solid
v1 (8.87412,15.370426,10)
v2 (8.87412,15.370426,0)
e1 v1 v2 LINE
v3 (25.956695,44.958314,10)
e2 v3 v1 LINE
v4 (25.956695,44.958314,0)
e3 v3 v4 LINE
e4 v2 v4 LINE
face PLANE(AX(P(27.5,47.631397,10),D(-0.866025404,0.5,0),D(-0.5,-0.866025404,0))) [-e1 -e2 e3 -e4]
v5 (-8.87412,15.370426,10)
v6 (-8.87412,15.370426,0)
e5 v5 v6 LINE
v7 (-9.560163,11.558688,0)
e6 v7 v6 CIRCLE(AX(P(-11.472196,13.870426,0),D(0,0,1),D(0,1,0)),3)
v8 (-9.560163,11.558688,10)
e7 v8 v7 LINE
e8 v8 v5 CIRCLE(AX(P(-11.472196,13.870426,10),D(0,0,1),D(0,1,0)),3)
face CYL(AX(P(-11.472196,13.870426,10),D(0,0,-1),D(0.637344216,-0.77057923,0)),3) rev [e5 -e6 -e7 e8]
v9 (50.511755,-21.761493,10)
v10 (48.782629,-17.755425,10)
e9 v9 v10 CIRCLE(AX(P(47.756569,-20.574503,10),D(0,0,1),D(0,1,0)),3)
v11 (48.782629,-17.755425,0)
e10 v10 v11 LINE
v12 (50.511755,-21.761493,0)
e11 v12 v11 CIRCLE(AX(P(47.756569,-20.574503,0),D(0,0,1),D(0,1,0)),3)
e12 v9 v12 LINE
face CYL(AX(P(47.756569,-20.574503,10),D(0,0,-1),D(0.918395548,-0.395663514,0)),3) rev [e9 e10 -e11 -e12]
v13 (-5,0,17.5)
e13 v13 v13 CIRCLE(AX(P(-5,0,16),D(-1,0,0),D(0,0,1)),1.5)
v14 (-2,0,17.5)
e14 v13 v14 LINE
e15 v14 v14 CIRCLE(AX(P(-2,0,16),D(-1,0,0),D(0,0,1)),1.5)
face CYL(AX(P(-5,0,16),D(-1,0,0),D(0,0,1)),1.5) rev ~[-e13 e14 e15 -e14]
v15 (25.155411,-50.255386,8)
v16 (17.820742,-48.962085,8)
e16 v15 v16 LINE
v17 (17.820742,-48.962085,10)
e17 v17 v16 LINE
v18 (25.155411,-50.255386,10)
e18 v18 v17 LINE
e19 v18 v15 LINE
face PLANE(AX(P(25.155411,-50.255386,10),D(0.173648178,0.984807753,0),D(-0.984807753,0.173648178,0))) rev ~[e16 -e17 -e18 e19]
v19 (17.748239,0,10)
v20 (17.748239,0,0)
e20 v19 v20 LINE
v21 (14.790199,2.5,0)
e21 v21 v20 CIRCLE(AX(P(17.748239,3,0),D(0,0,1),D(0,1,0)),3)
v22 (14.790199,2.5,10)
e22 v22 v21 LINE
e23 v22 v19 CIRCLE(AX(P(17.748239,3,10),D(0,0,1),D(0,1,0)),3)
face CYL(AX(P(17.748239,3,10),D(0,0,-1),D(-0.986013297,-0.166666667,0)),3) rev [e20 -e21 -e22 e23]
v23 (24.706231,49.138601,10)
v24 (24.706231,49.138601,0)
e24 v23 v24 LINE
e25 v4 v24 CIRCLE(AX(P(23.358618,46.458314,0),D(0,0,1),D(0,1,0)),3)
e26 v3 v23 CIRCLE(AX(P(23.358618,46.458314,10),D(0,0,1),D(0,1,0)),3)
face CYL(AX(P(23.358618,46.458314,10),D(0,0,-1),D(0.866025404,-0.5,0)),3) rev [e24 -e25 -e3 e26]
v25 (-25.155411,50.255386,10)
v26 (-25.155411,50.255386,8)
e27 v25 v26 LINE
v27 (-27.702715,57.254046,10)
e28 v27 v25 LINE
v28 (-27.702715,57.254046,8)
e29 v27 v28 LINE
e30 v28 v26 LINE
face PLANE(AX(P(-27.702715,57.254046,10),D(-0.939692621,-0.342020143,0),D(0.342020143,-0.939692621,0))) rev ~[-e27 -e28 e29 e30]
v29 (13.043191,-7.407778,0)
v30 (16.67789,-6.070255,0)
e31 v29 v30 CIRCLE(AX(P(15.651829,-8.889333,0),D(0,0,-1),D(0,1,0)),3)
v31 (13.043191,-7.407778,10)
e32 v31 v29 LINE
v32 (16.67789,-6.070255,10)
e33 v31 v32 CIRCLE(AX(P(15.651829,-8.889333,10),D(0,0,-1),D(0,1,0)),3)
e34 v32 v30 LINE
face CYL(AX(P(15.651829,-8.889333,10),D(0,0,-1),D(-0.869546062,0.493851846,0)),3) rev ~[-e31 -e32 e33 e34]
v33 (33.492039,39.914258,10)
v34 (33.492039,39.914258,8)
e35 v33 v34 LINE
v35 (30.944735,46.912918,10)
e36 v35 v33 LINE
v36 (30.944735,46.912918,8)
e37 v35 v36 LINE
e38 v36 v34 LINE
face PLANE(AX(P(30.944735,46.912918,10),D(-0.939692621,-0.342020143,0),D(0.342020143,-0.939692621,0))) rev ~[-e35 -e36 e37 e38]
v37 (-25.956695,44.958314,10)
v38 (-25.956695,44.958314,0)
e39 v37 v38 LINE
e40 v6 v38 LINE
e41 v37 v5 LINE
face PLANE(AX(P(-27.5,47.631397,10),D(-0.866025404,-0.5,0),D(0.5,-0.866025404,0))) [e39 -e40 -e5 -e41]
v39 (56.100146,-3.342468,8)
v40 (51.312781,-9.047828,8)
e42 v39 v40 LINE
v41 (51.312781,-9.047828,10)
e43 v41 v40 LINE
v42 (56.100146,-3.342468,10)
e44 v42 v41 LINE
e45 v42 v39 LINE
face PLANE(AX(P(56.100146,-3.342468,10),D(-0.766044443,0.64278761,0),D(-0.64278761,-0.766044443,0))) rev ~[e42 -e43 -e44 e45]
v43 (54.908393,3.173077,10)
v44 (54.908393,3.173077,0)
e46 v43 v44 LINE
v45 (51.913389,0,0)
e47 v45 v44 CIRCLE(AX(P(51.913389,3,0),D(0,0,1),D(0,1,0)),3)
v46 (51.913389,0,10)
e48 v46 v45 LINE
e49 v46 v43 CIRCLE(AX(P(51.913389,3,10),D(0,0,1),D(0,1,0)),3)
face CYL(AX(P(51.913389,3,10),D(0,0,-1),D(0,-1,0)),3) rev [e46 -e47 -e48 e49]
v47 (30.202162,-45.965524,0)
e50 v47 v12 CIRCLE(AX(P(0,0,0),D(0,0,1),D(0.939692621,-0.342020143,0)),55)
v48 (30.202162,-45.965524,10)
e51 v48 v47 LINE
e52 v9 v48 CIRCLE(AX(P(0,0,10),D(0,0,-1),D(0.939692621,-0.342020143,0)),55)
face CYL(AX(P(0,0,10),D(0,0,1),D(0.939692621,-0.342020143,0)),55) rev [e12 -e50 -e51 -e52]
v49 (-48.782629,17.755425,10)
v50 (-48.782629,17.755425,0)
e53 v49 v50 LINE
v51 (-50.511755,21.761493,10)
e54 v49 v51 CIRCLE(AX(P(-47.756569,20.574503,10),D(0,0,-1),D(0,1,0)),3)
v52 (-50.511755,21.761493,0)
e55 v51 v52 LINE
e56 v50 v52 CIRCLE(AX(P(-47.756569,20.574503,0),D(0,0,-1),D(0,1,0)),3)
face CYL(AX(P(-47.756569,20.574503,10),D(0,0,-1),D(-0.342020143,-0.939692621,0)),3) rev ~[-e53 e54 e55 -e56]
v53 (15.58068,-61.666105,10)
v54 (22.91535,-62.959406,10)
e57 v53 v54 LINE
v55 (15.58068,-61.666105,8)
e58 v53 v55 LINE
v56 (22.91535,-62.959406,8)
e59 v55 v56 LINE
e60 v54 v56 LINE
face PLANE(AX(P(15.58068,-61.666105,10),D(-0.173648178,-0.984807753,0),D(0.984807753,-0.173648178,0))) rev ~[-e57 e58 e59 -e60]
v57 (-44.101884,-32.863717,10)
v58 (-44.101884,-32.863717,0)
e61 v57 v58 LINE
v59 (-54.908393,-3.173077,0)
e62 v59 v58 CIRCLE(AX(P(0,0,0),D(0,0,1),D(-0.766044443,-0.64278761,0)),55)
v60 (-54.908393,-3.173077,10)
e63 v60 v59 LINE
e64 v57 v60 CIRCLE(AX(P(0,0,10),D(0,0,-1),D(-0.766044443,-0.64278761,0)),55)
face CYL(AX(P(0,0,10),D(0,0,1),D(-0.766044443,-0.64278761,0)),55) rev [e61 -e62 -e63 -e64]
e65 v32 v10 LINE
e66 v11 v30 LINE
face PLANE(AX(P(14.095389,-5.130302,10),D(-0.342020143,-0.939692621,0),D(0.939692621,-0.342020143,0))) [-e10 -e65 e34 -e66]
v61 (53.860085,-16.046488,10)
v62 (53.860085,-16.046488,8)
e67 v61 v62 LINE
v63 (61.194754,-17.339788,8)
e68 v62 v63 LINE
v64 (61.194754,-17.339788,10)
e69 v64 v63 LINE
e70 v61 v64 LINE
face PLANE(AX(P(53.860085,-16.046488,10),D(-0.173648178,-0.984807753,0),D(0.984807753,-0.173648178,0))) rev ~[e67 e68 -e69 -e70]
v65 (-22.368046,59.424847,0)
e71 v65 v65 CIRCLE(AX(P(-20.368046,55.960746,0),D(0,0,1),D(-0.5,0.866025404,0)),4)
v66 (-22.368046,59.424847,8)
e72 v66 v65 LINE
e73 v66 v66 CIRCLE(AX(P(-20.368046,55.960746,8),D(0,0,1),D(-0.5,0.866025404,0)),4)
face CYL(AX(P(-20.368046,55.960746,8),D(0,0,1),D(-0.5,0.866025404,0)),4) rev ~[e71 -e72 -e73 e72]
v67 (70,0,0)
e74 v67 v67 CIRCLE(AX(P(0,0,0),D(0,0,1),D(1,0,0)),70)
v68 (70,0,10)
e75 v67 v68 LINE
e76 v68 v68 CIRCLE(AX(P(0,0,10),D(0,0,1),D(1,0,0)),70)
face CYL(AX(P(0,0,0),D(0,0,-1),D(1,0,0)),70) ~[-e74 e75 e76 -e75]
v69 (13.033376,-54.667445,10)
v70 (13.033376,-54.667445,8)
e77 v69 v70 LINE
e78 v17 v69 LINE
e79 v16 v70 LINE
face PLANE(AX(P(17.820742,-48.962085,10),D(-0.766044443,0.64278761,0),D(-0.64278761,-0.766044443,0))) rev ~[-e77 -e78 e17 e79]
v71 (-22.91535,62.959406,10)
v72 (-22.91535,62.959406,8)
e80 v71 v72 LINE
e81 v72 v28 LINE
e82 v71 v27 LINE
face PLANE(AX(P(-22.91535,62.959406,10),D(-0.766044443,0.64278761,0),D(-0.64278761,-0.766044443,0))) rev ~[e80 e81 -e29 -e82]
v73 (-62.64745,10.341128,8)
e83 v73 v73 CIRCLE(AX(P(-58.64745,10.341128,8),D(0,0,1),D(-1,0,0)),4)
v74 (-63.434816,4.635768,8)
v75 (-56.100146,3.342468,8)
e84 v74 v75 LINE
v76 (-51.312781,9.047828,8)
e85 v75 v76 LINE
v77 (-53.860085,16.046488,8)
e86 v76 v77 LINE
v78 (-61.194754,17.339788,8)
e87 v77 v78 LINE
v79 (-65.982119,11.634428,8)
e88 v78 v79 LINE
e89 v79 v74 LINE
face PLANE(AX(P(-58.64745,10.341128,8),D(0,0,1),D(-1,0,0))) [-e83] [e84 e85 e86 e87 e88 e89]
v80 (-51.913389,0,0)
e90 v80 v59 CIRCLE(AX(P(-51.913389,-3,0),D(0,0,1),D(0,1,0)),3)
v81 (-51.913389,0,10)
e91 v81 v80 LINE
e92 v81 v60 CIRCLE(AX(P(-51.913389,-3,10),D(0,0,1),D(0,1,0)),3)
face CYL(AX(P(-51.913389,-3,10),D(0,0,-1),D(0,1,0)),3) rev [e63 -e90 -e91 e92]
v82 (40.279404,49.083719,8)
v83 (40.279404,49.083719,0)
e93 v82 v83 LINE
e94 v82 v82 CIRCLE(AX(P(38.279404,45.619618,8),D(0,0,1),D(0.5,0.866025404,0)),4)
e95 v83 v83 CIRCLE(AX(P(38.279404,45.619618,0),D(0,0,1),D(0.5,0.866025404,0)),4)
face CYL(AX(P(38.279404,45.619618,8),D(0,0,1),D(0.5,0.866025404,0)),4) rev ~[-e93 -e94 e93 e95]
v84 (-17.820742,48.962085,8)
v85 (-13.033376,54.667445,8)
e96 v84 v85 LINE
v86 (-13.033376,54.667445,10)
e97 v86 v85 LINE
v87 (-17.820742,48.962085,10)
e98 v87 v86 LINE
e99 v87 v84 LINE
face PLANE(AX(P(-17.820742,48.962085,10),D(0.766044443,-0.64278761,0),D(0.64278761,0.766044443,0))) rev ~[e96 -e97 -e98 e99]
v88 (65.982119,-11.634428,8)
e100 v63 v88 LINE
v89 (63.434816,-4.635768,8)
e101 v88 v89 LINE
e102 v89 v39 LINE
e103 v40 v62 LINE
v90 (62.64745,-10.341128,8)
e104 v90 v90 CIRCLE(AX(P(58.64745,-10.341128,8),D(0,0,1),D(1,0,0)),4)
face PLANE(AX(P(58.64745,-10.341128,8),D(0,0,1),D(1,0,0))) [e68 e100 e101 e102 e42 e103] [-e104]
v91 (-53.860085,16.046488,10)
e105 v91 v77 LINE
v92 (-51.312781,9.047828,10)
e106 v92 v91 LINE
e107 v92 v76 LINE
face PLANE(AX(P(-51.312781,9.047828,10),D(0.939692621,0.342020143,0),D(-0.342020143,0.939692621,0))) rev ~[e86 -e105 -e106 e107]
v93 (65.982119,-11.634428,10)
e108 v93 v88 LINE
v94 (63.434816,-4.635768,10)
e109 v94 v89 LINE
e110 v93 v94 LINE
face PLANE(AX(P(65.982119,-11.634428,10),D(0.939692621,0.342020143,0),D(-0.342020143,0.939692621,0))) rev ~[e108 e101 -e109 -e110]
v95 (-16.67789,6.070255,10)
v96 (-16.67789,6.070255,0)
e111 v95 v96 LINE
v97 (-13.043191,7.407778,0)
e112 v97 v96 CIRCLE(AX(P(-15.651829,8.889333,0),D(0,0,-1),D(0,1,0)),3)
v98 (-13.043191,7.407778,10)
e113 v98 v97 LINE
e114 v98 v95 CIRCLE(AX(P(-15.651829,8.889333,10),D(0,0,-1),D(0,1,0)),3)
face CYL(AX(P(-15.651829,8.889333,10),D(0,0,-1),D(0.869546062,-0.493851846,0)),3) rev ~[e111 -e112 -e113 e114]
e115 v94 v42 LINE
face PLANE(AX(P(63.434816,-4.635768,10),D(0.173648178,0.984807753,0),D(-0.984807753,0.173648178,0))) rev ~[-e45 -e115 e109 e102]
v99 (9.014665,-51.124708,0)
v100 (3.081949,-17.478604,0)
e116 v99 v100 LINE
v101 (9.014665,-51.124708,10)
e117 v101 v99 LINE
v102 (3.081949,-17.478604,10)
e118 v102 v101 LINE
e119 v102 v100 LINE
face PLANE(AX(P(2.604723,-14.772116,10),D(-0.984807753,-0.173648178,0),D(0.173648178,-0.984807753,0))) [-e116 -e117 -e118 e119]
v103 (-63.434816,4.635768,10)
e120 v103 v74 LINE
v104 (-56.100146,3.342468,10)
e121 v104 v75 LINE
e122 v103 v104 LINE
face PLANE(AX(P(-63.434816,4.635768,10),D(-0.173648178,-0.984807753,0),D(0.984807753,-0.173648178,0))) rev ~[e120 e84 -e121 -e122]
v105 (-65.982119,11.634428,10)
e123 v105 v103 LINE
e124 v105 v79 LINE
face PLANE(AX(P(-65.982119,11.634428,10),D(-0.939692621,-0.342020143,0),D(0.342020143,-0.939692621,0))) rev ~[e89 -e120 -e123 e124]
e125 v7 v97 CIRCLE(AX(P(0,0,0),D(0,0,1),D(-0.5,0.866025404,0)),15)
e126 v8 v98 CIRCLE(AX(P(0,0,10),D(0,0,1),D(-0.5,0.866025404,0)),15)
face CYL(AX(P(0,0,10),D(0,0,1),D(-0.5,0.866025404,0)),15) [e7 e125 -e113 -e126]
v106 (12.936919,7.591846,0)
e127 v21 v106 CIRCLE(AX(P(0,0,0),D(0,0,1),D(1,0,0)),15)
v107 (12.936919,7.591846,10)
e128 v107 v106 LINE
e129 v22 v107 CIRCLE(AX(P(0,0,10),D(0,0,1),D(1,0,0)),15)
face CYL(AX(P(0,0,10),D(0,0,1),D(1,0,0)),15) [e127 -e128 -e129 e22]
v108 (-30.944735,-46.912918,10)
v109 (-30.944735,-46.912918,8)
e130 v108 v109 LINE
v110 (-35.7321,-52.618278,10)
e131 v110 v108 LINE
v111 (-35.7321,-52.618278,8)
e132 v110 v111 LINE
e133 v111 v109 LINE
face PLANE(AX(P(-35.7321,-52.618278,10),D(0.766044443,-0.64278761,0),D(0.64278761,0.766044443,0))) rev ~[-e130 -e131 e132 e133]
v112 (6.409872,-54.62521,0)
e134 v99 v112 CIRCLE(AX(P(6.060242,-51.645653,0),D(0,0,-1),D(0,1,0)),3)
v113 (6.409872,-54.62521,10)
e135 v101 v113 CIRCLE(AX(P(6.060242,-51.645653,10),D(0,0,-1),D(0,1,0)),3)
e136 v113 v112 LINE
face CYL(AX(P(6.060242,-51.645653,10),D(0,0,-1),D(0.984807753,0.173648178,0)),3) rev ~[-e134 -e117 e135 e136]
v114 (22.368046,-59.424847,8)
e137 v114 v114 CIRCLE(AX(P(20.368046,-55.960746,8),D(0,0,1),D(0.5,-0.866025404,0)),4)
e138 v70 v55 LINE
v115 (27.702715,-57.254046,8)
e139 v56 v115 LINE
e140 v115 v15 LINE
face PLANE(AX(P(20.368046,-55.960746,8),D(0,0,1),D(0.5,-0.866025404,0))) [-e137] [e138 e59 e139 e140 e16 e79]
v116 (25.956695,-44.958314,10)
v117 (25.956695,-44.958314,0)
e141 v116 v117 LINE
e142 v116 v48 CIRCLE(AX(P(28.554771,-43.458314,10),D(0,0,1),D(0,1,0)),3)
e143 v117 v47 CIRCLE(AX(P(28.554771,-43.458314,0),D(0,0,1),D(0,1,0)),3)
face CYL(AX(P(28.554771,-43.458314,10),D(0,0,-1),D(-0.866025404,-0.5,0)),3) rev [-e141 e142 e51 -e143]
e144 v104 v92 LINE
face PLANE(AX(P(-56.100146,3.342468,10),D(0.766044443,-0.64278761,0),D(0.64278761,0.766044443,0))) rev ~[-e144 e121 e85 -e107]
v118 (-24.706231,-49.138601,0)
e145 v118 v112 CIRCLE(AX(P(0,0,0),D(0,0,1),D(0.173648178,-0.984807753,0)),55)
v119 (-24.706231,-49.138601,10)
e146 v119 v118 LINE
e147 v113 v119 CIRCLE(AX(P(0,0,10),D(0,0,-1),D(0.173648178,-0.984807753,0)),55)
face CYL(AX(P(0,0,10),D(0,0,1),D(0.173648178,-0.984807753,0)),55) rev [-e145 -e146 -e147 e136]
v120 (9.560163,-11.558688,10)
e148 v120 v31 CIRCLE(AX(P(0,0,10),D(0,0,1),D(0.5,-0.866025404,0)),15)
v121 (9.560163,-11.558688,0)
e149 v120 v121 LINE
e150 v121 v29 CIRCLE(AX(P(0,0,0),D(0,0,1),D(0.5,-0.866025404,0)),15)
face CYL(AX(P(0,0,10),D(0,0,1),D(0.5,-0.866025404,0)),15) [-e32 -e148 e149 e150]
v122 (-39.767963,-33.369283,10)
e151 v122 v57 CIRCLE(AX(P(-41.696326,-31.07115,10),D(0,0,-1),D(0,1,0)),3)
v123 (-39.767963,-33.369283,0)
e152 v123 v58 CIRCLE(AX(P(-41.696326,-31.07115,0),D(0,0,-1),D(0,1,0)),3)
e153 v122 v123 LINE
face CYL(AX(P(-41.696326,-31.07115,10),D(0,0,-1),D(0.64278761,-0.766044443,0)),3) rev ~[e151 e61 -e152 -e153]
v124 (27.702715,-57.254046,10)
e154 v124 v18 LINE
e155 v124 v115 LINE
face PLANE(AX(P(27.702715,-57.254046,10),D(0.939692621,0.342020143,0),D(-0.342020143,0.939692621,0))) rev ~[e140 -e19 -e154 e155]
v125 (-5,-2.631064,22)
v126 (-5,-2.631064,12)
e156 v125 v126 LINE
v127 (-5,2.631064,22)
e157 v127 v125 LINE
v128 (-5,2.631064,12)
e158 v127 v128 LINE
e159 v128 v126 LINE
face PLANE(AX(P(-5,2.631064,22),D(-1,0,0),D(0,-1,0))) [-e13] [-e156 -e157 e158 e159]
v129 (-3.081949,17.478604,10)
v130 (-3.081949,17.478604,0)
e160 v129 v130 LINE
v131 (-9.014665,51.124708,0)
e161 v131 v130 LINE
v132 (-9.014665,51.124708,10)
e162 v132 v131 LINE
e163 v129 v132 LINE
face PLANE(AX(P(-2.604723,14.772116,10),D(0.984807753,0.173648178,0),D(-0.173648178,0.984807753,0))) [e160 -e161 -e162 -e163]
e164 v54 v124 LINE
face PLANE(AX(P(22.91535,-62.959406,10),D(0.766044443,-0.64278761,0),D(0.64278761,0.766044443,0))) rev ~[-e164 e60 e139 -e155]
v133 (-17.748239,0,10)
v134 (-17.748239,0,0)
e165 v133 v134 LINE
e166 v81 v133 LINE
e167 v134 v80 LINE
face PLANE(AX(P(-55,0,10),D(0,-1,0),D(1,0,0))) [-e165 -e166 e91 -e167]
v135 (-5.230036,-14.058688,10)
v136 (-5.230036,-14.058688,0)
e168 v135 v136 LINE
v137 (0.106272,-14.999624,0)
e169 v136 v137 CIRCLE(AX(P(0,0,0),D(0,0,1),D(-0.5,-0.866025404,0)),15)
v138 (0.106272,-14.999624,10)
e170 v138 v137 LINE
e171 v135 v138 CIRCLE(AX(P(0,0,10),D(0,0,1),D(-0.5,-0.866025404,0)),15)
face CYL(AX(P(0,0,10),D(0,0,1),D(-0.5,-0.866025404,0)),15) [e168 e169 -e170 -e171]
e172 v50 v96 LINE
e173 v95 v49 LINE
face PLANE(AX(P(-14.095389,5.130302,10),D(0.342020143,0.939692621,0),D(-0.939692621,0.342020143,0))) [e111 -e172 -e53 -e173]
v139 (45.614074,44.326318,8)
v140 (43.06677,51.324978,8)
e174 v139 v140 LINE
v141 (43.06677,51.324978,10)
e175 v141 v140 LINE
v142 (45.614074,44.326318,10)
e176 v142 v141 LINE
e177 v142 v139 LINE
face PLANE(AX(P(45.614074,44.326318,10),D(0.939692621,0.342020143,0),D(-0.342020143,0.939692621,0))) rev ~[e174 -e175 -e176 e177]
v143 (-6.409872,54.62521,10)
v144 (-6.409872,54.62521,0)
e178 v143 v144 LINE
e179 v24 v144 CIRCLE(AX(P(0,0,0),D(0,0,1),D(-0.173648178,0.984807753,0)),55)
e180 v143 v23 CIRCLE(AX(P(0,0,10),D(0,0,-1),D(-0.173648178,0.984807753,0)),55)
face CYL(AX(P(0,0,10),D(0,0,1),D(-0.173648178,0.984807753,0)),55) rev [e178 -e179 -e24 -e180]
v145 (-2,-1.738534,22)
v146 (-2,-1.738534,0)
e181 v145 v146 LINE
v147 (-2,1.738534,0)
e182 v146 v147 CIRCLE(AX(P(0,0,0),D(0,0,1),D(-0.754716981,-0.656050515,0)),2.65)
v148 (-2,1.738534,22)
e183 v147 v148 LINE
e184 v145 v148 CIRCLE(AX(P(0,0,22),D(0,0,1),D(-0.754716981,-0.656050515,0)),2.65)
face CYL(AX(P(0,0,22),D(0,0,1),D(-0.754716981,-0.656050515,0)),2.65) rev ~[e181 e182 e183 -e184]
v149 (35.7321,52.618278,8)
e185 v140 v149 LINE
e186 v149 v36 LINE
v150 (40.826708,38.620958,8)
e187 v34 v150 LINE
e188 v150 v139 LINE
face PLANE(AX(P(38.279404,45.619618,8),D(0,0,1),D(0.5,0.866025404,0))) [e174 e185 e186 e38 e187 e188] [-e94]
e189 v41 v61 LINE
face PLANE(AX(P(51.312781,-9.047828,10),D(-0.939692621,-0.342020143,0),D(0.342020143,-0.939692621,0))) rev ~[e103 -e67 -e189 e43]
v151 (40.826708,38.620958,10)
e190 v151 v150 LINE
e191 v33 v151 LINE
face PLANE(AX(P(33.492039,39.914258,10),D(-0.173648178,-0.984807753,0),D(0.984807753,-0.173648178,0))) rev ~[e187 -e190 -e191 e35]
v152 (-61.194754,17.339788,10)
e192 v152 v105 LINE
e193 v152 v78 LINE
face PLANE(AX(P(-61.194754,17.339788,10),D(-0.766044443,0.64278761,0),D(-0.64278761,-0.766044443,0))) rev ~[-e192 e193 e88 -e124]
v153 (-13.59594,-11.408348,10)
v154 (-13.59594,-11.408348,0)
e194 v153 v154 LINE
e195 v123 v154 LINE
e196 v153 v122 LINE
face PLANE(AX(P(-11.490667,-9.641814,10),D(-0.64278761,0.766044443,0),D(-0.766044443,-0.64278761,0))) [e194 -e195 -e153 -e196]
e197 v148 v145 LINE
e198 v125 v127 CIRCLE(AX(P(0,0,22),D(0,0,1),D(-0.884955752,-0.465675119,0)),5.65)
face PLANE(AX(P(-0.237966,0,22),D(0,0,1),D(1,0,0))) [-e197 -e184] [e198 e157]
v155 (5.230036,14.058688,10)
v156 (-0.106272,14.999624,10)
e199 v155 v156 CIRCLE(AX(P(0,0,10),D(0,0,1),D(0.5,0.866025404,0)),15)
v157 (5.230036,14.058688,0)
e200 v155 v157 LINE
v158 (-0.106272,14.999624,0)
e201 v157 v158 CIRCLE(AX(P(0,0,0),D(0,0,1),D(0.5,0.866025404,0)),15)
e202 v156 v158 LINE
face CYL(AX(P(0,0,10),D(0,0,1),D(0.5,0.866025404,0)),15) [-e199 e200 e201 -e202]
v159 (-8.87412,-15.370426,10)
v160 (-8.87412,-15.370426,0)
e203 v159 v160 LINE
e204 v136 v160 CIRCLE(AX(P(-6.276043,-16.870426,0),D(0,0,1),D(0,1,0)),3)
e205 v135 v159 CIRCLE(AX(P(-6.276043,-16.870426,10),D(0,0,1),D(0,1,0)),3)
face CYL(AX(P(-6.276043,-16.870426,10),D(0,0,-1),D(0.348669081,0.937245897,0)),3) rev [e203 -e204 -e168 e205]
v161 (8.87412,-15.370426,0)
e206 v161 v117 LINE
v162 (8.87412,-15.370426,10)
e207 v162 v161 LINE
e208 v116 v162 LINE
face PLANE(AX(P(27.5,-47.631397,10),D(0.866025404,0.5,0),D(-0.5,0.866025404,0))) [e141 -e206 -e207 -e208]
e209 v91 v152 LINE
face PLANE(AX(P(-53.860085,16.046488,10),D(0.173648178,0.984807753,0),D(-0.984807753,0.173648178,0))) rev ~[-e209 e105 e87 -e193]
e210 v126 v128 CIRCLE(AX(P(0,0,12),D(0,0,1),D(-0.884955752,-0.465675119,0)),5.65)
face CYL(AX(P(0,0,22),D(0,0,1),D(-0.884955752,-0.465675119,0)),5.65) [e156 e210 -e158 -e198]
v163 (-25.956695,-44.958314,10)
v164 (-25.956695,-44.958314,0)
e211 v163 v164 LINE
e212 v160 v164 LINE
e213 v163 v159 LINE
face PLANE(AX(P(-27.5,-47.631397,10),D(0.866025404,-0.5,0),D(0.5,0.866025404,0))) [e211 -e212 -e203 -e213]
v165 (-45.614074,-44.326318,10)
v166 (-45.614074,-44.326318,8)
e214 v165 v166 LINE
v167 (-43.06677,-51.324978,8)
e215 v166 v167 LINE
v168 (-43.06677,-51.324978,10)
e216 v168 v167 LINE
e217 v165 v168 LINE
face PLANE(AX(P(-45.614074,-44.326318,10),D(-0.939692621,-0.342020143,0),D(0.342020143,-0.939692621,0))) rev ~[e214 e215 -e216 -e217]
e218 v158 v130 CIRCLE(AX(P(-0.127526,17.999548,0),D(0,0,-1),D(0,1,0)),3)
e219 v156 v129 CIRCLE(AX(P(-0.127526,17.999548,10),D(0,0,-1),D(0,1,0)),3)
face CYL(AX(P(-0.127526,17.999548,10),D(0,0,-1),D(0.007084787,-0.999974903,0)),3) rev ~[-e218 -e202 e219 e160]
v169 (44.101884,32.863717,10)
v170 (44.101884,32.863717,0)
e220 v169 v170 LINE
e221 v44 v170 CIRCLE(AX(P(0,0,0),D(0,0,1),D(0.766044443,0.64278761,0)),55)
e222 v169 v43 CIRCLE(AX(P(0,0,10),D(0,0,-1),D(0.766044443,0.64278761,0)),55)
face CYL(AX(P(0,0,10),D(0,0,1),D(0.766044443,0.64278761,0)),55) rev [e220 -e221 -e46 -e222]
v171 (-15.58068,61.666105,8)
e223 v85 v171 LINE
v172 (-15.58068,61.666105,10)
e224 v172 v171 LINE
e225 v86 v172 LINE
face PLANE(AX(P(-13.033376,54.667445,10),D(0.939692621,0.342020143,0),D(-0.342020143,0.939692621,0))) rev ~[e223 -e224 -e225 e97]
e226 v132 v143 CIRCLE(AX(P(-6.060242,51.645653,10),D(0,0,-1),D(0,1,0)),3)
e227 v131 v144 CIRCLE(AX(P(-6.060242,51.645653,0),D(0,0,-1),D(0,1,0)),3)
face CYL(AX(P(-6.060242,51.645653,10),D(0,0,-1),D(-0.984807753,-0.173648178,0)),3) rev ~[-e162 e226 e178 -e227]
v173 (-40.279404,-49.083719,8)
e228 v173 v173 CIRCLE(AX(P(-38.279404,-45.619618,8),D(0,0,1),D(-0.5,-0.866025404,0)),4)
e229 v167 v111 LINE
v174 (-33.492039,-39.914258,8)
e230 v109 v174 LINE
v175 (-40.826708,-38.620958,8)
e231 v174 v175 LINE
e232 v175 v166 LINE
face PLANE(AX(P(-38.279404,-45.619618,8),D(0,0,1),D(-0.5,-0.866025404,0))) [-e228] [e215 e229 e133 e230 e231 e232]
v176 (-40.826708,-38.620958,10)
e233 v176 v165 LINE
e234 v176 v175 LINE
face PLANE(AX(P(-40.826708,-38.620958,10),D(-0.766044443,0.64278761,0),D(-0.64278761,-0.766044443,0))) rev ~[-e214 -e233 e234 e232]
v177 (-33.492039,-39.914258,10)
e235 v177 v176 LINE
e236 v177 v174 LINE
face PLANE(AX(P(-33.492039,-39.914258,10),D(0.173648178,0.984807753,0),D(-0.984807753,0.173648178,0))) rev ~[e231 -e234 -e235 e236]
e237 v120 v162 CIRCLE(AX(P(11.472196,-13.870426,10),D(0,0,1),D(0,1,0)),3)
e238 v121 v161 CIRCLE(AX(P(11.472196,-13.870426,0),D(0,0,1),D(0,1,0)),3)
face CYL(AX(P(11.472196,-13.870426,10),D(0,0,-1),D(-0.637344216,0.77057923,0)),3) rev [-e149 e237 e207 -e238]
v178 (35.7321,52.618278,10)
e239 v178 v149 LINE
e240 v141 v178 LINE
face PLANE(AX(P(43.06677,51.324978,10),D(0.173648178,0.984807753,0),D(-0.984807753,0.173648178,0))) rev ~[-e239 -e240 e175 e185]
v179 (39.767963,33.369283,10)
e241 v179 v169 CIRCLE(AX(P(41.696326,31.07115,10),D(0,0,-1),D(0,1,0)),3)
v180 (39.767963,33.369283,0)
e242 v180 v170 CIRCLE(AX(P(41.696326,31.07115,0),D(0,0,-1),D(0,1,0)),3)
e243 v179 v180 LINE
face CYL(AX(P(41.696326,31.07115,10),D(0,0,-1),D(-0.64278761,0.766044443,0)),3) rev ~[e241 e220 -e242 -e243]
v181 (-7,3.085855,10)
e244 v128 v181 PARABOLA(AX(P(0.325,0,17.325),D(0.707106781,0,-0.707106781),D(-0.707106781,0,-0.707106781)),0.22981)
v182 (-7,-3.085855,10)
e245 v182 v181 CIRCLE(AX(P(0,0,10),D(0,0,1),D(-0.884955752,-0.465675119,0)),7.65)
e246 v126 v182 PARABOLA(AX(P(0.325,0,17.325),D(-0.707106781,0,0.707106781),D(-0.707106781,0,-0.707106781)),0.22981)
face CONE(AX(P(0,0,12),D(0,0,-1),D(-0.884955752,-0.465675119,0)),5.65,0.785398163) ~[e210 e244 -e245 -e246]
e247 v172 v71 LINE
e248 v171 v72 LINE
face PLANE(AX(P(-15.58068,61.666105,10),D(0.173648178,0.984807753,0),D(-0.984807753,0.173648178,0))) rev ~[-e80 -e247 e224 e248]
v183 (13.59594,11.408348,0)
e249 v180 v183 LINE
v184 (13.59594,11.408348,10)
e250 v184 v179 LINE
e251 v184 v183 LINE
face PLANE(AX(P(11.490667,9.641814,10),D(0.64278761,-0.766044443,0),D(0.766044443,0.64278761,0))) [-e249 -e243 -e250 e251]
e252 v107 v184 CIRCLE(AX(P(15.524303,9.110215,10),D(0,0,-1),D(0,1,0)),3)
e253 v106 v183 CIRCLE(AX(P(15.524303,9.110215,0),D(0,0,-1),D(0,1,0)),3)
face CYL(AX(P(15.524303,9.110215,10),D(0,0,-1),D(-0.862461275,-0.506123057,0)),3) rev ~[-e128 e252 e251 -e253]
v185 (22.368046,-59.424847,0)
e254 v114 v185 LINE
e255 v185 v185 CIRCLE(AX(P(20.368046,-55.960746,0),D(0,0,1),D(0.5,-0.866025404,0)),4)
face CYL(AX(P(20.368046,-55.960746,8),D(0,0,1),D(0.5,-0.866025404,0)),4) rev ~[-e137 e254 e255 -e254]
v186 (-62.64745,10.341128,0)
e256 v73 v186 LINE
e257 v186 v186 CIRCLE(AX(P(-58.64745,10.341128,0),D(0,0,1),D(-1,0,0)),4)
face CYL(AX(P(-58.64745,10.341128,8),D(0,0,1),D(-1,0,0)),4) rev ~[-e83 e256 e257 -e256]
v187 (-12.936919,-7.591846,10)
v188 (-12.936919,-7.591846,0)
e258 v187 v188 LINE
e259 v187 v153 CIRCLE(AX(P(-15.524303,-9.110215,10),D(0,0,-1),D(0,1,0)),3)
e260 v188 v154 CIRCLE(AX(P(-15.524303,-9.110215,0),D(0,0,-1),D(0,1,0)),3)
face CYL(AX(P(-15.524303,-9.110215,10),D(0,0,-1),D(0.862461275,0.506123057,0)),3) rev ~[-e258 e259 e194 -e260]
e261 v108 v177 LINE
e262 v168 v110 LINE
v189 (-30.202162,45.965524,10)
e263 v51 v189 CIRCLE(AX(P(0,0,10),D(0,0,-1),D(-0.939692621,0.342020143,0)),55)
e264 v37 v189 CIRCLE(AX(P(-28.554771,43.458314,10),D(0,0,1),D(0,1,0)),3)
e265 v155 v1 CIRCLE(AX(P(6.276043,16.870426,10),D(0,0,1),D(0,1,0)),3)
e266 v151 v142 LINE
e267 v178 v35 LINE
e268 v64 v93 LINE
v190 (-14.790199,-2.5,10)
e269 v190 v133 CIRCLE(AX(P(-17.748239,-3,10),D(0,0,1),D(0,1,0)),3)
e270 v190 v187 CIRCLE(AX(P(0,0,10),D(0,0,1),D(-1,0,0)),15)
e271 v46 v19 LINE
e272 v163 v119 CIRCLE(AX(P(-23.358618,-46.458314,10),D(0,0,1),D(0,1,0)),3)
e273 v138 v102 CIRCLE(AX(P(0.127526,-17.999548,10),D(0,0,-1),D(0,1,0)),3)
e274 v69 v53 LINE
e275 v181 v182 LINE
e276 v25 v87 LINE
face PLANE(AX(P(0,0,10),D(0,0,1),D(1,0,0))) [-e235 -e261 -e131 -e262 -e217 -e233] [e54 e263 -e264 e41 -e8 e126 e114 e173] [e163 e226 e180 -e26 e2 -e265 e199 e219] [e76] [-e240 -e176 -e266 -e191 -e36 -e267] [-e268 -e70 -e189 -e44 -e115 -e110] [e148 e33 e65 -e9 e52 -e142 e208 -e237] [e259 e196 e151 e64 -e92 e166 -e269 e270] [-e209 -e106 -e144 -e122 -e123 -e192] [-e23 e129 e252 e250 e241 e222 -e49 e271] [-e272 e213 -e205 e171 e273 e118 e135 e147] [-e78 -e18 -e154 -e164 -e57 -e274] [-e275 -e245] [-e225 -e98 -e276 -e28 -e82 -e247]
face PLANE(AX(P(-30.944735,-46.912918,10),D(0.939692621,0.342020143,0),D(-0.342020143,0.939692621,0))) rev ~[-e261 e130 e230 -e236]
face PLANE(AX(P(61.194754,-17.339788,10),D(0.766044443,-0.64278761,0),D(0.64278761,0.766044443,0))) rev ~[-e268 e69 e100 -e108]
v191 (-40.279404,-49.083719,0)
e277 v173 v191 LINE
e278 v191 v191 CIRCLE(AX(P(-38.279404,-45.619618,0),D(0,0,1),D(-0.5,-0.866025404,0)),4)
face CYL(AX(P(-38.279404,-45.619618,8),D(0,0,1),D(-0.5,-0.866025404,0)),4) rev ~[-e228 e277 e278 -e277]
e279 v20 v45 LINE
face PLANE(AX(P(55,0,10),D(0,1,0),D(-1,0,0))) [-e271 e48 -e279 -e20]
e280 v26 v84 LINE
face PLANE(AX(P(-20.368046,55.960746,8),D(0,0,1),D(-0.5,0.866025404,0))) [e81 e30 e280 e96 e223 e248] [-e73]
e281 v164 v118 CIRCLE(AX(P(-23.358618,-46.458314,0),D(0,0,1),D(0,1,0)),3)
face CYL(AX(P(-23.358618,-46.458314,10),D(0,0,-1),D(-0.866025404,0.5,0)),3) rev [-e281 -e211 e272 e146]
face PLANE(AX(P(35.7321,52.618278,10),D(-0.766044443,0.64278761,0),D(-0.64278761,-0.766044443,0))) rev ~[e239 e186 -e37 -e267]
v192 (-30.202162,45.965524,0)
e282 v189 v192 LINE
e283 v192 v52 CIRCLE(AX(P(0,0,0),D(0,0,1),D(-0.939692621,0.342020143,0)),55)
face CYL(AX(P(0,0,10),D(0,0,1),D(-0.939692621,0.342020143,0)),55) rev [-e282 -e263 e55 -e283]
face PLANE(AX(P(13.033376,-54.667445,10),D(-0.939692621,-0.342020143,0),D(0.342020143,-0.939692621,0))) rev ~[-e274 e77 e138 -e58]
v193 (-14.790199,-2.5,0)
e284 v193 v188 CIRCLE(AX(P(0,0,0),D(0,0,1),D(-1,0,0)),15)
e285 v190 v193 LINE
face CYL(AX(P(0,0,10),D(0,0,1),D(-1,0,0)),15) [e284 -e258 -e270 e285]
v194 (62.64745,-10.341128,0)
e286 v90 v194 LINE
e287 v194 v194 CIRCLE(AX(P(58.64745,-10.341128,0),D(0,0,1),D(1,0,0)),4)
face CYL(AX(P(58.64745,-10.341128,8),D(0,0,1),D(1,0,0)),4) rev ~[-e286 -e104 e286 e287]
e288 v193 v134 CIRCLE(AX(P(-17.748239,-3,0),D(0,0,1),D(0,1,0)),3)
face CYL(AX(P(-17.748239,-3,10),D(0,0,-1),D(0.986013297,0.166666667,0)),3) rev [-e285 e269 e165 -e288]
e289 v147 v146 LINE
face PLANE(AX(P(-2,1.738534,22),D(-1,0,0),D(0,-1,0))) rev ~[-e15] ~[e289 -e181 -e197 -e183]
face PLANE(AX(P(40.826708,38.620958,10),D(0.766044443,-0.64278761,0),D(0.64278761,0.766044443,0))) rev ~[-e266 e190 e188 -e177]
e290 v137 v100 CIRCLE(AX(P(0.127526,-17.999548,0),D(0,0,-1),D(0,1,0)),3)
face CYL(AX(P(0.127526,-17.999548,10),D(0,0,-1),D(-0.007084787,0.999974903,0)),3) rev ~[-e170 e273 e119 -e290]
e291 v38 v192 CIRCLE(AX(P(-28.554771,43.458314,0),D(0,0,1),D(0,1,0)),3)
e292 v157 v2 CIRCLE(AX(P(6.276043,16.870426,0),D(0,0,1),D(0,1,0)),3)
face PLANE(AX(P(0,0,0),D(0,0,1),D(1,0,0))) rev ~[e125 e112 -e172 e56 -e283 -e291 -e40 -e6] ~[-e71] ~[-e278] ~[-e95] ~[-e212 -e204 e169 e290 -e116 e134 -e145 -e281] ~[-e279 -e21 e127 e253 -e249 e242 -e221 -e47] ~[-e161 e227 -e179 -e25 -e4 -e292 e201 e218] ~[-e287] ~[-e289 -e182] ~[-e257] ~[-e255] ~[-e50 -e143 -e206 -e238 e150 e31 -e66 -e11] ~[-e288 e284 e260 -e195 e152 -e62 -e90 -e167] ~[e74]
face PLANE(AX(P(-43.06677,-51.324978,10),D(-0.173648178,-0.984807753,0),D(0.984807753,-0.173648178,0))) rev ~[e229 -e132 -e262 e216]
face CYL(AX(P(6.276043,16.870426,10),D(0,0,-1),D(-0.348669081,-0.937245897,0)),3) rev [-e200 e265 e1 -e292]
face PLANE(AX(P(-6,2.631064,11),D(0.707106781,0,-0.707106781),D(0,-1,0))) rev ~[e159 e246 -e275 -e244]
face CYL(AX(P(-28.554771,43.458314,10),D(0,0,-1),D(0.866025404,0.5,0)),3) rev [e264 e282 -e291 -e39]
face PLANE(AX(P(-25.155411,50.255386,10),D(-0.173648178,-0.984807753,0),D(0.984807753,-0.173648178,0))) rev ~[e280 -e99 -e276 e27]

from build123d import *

# Parameters (mm, degrees)
ESQUISSE1_R                        = 70
BOSS_EXTRU_1_DEPTH                 = 10
ENL_V_MAT_EXTRU_1_DEPTH            = 100.498743711
BOSS_EXTRU_2_START                 = 12
BOSS_EXTRU_2_DEPTH                 = 12
ENL_V_MAT_EXTRU_2_REACH            = 106.924
ESQUISSE4_R                        = 1.5
CHANFREIN1_SIZE                    = 2
ENL_V_MAT_EXTRU_3_REACH            = 101.72
CONG_1_R                           = 3
ENL_V_MAT_EXTRU_4_DEPTH            = 2
ENL_V_MAT_EXTRU_5_REACH            = 101.98
ESQUISSE8_R                        = 4
R_P_TITION_CIRCULAIRE1_COUNT       = 6
CONG_1_OF_R_P_TITION_CIRCULAIRE1_R = 3


with BuildPart() as part:
    # Esquisse1 → Boss.-Extru.1 (new body)
    with BuildSketch(Plane.XY):
        Circle(ESQUISSE1_R)
    extrude(amount=BOSS_EXTRU_1_DEPTH)

    # Esquisse2 → Enlèv. mat.-Extru.1 (cut, through all)
    with BuildSketch(Plane.XY.offset(10)):
        with BuildLine():
            Line((-2, 1.738533865), (-2, -1.738533865))
            ThreePointArc((-2, -1.738533865), (2.65, 0), (-2, 1.738533865))
        make_face()
    extrude(amount=-ENL_V_MAT_EXTRU_1_DEPTH, mode=Mode.SUBTRACT)

    # Esquisse3 → Boss.-Extru.2 (add)
    with BuildSketch(Plane.XY.offset(10).offset(BOSS_EXTRU_2_START)):
        with BuildLine():
            Line((-5, 2.631064423), (-5, -2.631064423))
            ThreePointArc((-5, -2.631064423), (5.65, 0), (-5, 2.631064423))
        make_face()
        with BuildLine():
            Line((-2, 1.738533865), (-2, -1.738533865))
            ThreePointArc((-2, -1.738533865), (2.65, 0), (-2, 1.738533865))
        make_face(mode=Mode.SUBTRACT)
    extrude(amount=-BOSS_EXTRU_2_DEPTH)

    # Esquisse4 → Enlèv. mat.-Extru.2 (cut, up to next)
    with BuildSketch(Plane.ZY.offset(5), mode=Mode.PRIVATE) as enl_v_mat_extru_2_sk1:
        with Locations((16, 0)):
            Circle(ESQUISSE4_R)
    enl_v_mat_extru_2_tool1 = extrude(enl_v_mat_extru_2_sk1.sketch, amount=-ENL_V_MAT_EXTRU_2_REACH, mode=Mode.PRIVATE) & part.part
    add(enl_v_mat_extru_2_tool1.solids().sort_by_distance((-5, 0, 16))[0], mode=Mode.SUBTRACT)

    # Chanfrein1
    chanfrein1_edges = [part.edges().sort_by_distance(p)[0] for p in [
        (-5, 0, 10),
        (5.65, 0, 10),
    ]]
    chamfer(chanfrein1_edges, length=CHANFREIN1_SIZE)

    # Esquisse5 → Enlèv. mat.-Extru.3 (cut, up to next)
    with BuildSketch(Plane.XY.offset(10), mode=Mode.PRIVATE) as enl_v_mat_extru_3_sk1:
        with BuildLine():
            Line((14.095389312, -5.13030215), (51.683094143, -18.811107883))
            ThreePointArc((51.683094143, -18.811107883), (42.132444372, -35.353318533), (27.5, -47.631397208))
            Line((27.5, -47.631397208), (7.5, -12.990381057))
            ThreePointArc((7.5, -12.990381057), (11.490666647, -9.641814145), (14.095389312, -5.13030215))
        make_face()
    enl_v_mat_extru_3_tool1 = extrude(enl_v_mat_extru_3_sk1.sketch, amount=-ENL_V_MAT_EXTRU_3_REACH, mode=Mode.PRIVATE) & part.part
    enl_v_mat_extru_3 = enl_v_mat_extru_3_tool1.solids().sort_by_distance((29.12974, -24.442754, 10))[0]
    add(enl_v_mat_extru_3, mode=Mode.SUBTRACT)

    # Congé1
    cong_1_edges = [part.edges().sort_by_distance(p)[0] for p in [
        (27.5, -47.631397208, 5),
        (51.683094143, -18.811107883, 5),
        (7.5, -12.990381057, 5),
        (14.095389312, -5.13030215, 5),
    ]]
    fillet(cong_1_edges, radius=CONG_1_R)

    # Esquisse7 → Enlèv. mat.-Extru.4 (cut)
    with BuildSketch(Plane.XY.offset(10)):
        Polygon((65.982119452, -11.634427904), (63.43481551, -4.635767844), (56.100146136, -3.342467739), (51.312780702, -9.047827693), (53.860084644, -16.046487753), (61.194754018, -17.339787858), align=None)
    enl_v_mat_extru_4 = extrude(amount=-ENL_V_MAT_EXTRU_4_DEPTH, mode=Mode.SUBTRACT)

    # Esquisse8 → Enlèv. mat.-Extru.5 (cut, up to next)
    with BuildSketch(Plane.XY.offset(8), mode=Mode.PRIVATE) as enl_v_mat_extru_5_sk1:
        with Locations((58.647450077, -10.341127798)):
            Circle(ESQUISSE8_R)
    enl_v_mat_extru_5_tool1 = extrude(enl_v_mat_extru_5_sk1.sketch, amount=-ENL_V_MAT_EXTRU_5_REACH, mode=Mode.PRIVATE) & part.part
    enl_v_mat_extru_5 = enl_v_mat_extru_5_tool1.solids().sort_by_distance((58.64745, -10.341128, 8))[0]
    add(enl_v_mat_extru_5, mode=Mode.SUBTRACT)

    # Répétition circulaire1: Enlèv. mat.-Extru.3, Enlèv. mat.-Extru.4, Enlèv. mat.-Extru.5 ×6 about axis
    r_p_tition_circulaire1_axis = Axis((0, 0, -0.8), (0, 0, 1))
    add([enl_v_mat_extru_3.rotate(r_p_tition_circulaire1_axis, i * 360 / R_P_TITION_CIRCULAIRE1_COUNT) for i in range(1, R_P_TITION_CIRCULAIRE1_COUNT)], mode=Mode.SUBTRACT)
    add([enl_v_mat_extru_4.rotate(r_p_tition_circulaire1_axis, i * 360 / R_P_TITION_CIRCULAIRE1_COUNT) for i in range(1, R_P_TITION_CIRCULAIRE1_COUNT)], mode=Mode.SUBTRACT)
    add([enl_v_mat_extru_5.rotate(r_p_tition_circulaire1_axis, i * 360 / R_P_TITION_CIRCULAIRE1_COUNT) for i in range(1, R_P_TITION_CIRCULAIRE1_COUNT)], mode=Mode.SUBTRACT)

    # Congé1 of Répétition circulaire1
    cong_1_of_r_p_tition_circulaire1_edges = [part.edges().sort_by_distance(p)[0] for p in [
        (55, 0, 5),
        (42.132444372, 35.353318533, 5),
        (15, 0, 5),
        (11.490666647, 9.641814145, 5),
        (27.5, 47.631397208, 5),
        (-9.550649772, 54.164426416, 5),
        (7.5, 12.990381057, 5),
        (-2.604722665, 14.772116295, 5),
        (-27.5, 47.631397208, 5),
        (-51.683094143, 18.811107883, 5),
        (-7.5, 12.990381057, 5),
        (-14.095389312, 5.13030215, 5),
        (-55, 0, 5),
        (-42.132444372, -35.353318533, 5),
        (-15, 0, 5),
        (-11.490666647, -9.641814145, 5),
        (-27.5, -47.631397208, 5),
        (9.550649772, -54.164426416, 5),
        (-7.5, -12.990381057, 5),
        (2.604722665, -14.772116295, 5),
    ]]
    fillet(cong_1_of_r_p_tition_circulaire1_edges, radius=CONG_1_OF_R_P_TITION_CIRCULAIRE1_R)


solid = part.part
